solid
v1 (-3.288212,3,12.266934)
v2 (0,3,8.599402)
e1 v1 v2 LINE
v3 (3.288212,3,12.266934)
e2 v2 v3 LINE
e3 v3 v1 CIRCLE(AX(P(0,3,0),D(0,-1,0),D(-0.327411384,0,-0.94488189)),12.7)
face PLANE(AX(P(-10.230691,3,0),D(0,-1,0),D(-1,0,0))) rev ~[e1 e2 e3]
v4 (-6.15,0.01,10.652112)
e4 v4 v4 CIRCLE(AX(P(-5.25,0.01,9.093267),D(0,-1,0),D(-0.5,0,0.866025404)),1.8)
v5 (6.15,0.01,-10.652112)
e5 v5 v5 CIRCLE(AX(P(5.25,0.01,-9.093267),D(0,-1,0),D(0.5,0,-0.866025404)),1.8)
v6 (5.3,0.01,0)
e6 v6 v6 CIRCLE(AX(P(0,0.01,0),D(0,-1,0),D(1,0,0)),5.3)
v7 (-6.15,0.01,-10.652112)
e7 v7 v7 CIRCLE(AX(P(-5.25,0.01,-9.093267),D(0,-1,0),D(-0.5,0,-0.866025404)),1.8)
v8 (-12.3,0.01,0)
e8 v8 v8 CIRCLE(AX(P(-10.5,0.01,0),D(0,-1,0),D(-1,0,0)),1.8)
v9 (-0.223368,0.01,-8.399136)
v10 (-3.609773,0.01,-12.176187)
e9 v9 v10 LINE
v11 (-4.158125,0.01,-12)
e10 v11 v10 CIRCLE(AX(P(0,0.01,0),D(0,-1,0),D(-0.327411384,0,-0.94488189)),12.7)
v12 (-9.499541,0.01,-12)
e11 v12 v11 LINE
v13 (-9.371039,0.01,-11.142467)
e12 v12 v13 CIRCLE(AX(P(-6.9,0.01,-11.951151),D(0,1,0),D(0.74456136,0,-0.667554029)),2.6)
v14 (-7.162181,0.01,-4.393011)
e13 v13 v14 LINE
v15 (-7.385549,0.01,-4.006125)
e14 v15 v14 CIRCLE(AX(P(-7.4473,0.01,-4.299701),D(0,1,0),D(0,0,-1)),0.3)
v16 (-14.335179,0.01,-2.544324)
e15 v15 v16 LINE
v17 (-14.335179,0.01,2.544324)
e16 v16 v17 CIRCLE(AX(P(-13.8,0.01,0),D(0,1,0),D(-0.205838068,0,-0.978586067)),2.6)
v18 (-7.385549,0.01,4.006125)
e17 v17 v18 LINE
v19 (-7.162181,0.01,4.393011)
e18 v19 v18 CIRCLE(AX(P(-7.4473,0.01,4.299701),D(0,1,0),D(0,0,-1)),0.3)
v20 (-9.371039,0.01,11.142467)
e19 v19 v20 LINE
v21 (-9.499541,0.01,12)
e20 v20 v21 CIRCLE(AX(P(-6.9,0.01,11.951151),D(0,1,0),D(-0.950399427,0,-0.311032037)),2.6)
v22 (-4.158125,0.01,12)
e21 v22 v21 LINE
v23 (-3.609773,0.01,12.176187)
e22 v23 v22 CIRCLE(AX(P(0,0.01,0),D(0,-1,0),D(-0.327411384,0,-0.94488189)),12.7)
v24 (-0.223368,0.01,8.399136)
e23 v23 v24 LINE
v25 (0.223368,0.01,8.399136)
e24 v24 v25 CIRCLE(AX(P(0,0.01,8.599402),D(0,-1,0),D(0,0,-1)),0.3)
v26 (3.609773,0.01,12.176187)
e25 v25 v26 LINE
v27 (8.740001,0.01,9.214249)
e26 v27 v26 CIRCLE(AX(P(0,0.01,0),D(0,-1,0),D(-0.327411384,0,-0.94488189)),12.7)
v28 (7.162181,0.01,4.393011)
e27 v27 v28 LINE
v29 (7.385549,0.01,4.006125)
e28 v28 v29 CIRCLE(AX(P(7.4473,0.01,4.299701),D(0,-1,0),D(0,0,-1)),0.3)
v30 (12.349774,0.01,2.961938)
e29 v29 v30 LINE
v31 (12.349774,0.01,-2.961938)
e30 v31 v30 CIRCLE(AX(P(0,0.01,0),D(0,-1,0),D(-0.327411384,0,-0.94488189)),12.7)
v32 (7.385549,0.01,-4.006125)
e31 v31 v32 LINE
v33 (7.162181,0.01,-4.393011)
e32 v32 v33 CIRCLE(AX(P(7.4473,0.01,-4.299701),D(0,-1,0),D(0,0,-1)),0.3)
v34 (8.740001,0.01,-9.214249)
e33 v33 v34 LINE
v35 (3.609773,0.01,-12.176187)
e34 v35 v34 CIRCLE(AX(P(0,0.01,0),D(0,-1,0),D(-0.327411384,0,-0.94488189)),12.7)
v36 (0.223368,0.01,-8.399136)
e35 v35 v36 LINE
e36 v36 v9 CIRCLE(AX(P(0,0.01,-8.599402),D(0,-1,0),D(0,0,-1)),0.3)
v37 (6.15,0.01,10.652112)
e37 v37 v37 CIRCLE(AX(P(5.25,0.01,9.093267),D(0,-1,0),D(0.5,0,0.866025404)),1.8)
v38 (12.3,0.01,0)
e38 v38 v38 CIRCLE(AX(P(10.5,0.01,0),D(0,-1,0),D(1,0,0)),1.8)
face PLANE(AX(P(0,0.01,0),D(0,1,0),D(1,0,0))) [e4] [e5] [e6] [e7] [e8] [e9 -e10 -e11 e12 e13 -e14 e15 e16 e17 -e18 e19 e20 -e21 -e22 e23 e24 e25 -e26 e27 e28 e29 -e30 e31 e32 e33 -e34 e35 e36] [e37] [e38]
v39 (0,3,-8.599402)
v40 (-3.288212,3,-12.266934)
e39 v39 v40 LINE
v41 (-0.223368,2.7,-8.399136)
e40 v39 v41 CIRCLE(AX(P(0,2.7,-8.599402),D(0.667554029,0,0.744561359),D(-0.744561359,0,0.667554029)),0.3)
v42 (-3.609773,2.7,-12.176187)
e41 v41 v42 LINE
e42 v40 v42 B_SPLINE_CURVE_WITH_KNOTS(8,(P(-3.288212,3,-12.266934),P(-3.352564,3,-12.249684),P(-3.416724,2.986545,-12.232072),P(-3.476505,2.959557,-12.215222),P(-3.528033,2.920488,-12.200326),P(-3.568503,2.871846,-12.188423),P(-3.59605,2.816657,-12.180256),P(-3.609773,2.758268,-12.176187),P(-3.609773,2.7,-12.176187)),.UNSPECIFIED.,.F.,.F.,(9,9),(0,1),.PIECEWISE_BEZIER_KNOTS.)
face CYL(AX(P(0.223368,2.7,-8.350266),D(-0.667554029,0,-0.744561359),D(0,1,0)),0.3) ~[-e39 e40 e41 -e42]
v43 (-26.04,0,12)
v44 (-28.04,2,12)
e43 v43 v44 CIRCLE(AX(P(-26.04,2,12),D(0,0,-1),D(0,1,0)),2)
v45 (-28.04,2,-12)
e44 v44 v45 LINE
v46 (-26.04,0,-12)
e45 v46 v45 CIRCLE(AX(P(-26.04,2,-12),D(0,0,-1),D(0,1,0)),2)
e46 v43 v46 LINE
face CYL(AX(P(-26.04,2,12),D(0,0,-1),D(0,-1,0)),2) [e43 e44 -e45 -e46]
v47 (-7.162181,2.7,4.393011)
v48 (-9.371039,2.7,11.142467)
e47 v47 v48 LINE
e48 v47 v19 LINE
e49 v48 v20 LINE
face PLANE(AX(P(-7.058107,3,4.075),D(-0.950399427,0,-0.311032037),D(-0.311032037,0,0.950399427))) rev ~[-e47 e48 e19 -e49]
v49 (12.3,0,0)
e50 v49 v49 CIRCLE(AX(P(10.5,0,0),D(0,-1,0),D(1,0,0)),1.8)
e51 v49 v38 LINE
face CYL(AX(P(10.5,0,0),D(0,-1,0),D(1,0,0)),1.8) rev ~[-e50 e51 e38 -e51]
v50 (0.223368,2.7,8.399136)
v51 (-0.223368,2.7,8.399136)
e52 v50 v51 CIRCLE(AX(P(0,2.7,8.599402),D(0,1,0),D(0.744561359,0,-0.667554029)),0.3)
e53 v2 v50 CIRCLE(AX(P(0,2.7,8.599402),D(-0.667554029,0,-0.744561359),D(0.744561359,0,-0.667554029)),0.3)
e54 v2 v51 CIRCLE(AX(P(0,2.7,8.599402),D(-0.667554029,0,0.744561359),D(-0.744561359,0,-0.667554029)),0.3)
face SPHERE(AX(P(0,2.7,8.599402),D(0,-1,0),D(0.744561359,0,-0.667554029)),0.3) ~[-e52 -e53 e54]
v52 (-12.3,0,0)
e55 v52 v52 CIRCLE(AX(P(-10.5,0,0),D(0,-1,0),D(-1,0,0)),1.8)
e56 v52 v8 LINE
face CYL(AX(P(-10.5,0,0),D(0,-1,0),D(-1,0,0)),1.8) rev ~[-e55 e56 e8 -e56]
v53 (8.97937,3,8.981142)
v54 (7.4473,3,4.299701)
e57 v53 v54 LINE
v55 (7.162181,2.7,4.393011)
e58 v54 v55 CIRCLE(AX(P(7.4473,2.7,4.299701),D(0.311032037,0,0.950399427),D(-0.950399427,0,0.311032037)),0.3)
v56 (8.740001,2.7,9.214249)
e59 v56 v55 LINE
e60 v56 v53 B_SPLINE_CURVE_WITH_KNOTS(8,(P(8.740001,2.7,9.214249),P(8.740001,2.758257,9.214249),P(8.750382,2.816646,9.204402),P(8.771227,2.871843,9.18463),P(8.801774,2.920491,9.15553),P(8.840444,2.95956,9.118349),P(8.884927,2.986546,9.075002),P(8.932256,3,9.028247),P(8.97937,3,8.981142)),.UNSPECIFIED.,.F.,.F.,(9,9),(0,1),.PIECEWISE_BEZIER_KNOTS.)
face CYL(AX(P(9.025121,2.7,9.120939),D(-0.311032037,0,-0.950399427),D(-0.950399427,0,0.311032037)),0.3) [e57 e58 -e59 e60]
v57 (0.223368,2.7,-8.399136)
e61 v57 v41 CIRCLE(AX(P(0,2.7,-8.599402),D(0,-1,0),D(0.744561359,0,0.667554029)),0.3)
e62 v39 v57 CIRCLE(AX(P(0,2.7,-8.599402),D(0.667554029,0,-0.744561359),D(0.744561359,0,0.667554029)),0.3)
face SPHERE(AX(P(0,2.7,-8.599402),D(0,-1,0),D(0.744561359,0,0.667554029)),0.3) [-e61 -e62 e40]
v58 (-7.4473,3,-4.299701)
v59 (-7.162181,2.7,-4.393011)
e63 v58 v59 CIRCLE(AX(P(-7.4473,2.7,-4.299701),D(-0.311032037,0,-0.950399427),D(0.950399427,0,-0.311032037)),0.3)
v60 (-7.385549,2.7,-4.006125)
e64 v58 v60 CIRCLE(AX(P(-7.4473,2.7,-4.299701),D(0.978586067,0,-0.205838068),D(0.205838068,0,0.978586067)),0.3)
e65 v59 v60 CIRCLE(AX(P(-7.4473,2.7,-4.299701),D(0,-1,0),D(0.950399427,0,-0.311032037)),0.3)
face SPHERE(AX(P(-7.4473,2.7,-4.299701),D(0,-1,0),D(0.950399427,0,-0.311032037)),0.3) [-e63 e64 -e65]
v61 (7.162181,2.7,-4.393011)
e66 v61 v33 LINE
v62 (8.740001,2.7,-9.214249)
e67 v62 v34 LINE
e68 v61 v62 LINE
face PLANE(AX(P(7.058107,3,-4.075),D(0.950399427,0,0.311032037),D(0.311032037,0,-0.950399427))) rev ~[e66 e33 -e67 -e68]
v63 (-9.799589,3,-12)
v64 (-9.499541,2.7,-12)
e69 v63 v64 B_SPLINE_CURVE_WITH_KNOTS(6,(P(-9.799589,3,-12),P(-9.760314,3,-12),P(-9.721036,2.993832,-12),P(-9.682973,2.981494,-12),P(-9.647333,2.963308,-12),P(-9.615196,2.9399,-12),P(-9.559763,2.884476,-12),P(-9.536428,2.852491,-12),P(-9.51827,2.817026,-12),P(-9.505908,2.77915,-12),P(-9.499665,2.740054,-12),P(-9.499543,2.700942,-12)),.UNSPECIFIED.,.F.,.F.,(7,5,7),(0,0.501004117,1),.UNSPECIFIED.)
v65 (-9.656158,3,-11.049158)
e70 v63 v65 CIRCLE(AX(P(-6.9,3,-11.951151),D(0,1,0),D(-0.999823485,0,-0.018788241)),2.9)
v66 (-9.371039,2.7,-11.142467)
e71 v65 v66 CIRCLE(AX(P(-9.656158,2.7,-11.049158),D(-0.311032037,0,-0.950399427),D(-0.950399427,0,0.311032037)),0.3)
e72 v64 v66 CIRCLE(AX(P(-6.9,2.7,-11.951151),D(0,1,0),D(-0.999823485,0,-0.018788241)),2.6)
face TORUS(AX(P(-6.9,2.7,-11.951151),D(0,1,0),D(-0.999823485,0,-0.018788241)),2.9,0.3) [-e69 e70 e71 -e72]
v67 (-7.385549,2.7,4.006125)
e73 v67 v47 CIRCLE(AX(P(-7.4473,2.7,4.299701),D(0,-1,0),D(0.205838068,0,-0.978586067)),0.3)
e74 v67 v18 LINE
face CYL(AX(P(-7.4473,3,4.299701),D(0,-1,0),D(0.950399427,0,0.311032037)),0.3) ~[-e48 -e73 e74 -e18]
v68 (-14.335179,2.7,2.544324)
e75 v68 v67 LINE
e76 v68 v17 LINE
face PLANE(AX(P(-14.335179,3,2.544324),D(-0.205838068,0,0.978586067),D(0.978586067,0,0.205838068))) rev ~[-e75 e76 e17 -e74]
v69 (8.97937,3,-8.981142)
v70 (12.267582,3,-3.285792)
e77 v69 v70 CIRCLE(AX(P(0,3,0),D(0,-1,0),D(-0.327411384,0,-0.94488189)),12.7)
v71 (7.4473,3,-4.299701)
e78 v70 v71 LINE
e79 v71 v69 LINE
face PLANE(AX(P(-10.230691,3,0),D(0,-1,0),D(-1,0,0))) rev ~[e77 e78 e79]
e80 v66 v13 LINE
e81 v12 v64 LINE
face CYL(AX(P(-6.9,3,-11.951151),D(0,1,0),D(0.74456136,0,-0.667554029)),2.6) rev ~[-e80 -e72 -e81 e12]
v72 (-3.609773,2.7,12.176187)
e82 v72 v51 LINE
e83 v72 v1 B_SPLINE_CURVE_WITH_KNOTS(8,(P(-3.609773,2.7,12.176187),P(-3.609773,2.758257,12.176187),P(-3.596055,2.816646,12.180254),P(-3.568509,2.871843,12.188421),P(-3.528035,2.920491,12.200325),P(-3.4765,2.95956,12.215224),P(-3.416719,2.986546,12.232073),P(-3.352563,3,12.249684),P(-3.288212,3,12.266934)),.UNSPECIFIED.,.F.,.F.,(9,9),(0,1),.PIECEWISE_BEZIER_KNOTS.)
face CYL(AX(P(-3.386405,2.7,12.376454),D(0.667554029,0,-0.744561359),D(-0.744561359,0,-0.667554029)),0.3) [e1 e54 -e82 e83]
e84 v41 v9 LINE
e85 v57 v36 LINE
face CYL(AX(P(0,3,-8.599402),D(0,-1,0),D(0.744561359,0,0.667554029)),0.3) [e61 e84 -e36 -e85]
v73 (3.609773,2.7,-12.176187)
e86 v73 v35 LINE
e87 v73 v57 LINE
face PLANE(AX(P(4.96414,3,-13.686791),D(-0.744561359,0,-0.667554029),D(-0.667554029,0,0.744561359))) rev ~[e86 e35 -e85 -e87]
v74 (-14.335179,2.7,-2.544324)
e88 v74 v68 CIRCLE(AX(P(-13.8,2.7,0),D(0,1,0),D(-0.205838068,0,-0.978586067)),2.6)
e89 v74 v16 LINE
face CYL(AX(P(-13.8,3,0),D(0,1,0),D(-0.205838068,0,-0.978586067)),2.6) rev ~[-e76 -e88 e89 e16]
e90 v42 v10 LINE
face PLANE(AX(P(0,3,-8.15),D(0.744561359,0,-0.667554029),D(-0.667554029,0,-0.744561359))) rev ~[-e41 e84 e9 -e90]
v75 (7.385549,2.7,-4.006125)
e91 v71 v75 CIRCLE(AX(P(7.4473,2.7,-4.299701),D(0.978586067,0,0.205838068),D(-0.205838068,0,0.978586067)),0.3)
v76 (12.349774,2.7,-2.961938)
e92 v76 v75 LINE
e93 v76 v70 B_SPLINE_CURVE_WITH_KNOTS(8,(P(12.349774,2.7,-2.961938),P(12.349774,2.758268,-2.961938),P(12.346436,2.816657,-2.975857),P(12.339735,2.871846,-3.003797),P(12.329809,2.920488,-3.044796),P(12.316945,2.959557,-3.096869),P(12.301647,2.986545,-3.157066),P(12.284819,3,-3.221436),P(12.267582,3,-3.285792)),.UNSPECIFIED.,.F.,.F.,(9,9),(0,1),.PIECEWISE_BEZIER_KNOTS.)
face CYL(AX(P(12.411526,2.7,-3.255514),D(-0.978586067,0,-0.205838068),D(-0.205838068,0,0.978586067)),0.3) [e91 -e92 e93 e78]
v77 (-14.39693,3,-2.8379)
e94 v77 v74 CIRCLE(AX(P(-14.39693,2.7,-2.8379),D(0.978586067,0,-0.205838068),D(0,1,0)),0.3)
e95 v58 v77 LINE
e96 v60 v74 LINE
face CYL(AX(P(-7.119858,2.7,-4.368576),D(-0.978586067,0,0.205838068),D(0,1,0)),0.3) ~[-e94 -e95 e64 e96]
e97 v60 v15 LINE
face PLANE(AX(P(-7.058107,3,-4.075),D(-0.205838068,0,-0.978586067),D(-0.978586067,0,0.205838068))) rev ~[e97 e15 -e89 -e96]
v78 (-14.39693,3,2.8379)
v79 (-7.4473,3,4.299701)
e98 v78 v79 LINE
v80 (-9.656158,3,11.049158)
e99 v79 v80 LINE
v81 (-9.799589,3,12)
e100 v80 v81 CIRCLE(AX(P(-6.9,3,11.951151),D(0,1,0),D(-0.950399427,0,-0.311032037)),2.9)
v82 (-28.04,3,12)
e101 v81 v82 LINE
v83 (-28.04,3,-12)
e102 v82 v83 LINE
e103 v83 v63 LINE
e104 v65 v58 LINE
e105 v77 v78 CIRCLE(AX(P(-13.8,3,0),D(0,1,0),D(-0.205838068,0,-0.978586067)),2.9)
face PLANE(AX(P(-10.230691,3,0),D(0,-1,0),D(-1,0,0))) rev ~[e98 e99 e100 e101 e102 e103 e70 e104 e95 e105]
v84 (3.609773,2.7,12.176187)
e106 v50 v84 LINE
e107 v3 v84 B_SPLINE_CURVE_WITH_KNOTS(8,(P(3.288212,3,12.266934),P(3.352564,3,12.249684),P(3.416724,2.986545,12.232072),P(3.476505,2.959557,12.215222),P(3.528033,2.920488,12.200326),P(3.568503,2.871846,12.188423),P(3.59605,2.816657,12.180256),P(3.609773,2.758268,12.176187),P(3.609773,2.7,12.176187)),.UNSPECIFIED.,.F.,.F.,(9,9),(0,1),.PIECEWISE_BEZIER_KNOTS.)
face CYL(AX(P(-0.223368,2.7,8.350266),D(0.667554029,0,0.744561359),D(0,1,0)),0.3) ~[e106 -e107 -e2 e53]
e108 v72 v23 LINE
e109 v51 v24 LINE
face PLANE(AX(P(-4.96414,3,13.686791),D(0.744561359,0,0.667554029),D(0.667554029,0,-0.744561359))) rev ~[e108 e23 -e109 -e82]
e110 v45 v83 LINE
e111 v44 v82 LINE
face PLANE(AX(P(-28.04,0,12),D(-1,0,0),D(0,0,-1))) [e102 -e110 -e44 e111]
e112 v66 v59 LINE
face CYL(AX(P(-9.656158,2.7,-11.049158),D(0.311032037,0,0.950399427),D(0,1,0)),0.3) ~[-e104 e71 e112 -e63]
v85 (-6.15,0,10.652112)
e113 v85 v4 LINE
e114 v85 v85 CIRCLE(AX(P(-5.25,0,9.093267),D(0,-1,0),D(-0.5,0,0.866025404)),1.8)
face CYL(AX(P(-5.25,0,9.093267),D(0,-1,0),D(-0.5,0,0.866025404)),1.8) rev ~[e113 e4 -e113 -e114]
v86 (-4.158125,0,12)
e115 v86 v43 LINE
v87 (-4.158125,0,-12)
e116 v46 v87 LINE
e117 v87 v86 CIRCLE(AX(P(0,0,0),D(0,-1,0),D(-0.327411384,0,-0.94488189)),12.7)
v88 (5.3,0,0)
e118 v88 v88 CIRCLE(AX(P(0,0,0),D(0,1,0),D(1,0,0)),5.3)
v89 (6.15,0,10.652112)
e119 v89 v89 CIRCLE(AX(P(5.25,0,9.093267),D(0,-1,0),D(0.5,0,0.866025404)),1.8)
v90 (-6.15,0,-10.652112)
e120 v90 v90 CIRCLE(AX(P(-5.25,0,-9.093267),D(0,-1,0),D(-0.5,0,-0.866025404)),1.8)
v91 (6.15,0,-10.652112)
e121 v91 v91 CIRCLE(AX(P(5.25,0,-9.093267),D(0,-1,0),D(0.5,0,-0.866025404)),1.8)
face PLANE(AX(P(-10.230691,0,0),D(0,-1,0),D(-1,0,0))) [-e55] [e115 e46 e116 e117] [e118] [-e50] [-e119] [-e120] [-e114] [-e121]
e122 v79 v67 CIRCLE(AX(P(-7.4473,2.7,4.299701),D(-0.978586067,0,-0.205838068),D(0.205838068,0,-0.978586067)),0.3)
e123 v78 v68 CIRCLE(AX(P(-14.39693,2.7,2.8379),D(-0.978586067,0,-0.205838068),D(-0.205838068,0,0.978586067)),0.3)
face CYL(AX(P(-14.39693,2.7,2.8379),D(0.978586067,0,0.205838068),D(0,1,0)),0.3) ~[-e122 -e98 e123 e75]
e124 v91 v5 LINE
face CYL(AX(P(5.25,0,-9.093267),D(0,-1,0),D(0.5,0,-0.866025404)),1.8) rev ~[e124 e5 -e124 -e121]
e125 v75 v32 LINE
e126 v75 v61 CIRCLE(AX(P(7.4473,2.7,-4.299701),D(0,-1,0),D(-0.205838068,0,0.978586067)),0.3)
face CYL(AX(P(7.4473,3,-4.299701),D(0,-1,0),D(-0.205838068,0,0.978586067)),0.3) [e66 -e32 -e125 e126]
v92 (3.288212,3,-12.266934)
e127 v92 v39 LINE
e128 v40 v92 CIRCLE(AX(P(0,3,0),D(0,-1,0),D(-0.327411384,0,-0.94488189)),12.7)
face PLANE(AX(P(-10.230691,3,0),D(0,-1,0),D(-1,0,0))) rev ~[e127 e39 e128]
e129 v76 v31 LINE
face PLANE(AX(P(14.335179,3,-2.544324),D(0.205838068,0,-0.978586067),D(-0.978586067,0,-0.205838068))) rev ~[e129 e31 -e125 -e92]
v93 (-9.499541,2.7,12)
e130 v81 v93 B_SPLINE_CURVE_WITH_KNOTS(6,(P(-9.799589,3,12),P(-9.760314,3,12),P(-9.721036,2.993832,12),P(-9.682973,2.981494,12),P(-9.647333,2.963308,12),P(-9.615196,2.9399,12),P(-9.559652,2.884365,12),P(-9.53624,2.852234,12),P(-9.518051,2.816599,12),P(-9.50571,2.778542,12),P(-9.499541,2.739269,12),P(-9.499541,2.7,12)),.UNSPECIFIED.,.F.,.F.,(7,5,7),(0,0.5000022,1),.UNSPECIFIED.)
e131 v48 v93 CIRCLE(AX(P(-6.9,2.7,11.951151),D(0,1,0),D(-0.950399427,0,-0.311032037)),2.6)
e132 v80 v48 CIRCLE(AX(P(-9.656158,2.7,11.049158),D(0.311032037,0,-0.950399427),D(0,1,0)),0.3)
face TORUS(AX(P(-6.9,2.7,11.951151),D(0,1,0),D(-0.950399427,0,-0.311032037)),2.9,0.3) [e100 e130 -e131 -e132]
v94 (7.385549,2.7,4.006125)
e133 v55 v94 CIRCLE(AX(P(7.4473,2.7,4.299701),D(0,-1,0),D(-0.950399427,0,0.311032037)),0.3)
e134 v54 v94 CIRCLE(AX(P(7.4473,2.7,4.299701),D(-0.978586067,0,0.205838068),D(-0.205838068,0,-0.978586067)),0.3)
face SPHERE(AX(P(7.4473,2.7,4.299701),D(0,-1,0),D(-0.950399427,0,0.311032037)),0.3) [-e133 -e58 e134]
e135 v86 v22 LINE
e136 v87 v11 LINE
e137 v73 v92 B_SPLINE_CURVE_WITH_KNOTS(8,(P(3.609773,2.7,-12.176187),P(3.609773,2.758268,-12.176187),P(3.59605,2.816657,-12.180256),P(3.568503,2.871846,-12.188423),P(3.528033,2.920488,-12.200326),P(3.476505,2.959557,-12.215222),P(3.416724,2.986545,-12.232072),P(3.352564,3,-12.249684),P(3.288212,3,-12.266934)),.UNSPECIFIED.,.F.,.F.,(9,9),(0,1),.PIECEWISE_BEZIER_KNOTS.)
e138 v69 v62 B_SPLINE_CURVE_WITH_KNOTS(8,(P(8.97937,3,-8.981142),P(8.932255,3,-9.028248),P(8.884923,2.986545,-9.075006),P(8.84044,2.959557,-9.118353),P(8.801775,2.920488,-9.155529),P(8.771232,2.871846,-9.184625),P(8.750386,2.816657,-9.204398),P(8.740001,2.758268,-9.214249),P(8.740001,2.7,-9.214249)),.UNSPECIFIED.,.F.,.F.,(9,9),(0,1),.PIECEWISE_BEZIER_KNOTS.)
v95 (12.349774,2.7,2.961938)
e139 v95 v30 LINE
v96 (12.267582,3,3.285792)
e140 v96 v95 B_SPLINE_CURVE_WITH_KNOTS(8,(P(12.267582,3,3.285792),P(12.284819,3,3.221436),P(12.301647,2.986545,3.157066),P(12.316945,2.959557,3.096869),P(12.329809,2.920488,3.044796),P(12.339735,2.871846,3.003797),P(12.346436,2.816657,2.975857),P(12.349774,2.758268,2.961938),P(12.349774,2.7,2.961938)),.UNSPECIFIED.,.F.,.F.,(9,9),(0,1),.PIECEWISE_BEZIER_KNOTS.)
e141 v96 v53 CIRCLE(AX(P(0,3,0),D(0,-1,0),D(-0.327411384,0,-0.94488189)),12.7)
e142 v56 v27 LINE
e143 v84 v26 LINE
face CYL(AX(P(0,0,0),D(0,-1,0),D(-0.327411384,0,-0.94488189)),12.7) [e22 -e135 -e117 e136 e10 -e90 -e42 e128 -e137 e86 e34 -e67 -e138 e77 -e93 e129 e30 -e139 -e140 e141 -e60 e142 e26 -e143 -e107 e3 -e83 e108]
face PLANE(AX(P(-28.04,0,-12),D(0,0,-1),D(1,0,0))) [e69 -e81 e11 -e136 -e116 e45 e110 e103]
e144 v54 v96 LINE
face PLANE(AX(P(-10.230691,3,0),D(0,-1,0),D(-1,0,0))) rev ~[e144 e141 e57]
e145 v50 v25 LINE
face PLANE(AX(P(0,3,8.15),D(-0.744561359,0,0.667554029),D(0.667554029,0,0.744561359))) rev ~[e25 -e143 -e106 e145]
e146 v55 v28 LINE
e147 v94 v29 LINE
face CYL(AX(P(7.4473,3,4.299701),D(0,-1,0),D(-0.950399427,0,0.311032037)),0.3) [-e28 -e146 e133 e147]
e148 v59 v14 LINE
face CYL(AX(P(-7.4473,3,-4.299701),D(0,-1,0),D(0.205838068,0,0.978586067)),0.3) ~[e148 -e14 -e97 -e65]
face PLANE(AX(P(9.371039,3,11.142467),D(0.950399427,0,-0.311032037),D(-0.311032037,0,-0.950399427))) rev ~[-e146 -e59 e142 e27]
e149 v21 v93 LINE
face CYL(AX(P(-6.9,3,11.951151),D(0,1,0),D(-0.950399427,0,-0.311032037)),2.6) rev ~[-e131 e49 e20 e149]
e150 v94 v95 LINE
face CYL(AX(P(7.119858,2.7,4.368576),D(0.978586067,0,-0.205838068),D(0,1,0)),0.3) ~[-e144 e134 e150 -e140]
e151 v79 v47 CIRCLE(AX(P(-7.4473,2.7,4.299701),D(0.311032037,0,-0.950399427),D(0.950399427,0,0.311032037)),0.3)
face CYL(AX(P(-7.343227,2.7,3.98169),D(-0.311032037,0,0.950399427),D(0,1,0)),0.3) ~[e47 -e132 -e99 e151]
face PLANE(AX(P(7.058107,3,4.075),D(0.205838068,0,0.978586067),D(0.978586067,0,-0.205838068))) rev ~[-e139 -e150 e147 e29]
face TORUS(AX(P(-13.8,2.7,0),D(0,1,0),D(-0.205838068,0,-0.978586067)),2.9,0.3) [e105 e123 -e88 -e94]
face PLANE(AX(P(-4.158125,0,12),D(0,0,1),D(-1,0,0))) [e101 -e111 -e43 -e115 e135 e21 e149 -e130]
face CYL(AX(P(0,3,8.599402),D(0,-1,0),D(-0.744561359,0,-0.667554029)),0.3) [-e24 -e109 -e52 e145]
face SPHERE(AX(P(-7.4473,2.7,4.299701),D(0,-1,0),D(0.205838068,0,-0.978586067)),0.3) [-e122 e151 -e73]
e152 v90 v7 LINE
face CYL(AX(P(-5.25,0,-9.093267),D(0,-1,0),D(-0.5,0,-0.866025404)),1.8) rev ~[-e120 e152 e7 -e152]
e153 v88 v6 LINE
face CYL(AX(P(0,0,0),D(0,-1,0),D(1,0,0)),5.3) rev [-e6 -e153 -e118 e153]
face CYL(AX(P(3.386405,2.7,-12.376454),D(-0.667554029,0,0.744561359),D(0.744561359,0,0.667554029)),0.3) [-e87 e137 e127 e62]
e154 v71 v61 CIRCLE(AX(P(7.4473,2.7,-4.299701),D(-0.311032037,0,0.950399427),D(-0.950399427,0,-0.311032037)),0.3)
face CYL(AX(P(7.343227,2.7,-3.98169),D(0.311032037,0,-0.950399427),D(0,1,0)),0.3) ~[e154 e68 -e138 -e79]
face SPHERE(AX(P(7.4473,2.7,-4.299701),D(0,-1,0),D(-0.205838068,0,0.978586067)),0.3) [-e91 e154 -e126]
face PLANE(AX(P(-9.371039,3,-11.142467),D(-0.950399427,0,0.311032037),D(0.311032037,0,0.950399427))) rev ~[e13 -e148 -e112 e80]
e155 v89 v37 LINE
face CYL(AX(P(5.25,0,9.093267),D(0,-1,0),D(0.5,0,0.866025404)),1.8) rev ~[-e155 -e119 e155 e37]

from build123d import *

# Parameters (mm, degrees)
CROQUIS1_R              = 5.3
SALIENTE_EXTRUIR1_DEPTH = 3
CORTAR_EXTRUIR2_DEPTH   = 2.99
REDONDEO1_R             = 2
REDONDEO2_R             = 0.3
CROQUIS3_R              = 1.8
CORTAR_EXTRUIR3_DEPTH   = 10
MATRIZC1_COUNT          = 6


with BuildPart() as part:
    # Croquis1 → Saliente-Extruir1 (new body)
    with BuildSketch(Plane(origin=(0, 0, 0), x_dir=(1, 0, 0), z_dir=(0, 1, 0))):
        with BuildLine():
            Line((-28.04, 12), (-4.158124577, 12))
            ThreePointArc((-4.158124577, 12), (12.7, 0), (-4.158124577, -12))
            Line((-4.158124577, -12), (-28.04, -12))
            Line((-28.04, -12), (-28.04, 12))
        make_face()
        Circle(CROQUIS1_R, mode=Mode.SUBTRACT)
    extrude(amount=SALIENTE_EXTRUIR1_DEPTH)

    # Croquis2 → Cortar-Extruir2 (cut)
    with BuildSketch(Plane(origin=(0, 3, 0), x_dir=(1, 0, 0), z_dir=(0, 1, 0))):
        with BuildLine():
            Line((-14.335178977, -2.544323773), (-7.058107041, -4.075))
            Line((-7.058107041, -4.075), (-9.371038511, -11.142467275))
            ThreePointArc((-9.371038511, -11.142467275), (-8.2, -14.202816622), (-4.964140465, -13.686791048))
            Line((-4.964140465, -13.686791048), (0, -8.15))
            Line((0, -8.15), (4.964140465, -13.686791048))
            ThreePointArc((4.964140465, -13.686791048), (8.2, -14.202816622), (9.371038511, -11.142467275))
            Line((9.371038511, -11.142467275), (7.058107041, -4.075))
            Line((7.058107041, -4.075), (14.335178977, -2.544323773))
            ThreePointArc((14.335178977, -2.544323773), (16.4, 0), (14.335178977, 2.544323773))
            Line((14.335178977, 2.544323773), (7.058107041, 4.075))
            Line((7.058107041, 4.075), (9.371038511, 11.142467275))
            ThreePointArc((9.371038511, 11.142467275), (8.2, 14.202816622), (4.964140465, 13.686791048))
            Line((4.964140465, 13.686791048), (0, 8.15))
            Line((0, 8.15), (-4.964140465, 13.686791048))
            ThreePointArc((-4.964140465, 13.686791048), (-8.2, 14.202816622), (-9.371038511, 11.142467275))
            Line((-9.371038511, 11.142467275), (-7.058107041, 4.075))
            Line((-7.058107041, 4.075), (-14.335178977, 2.544323773))
            ThreePointArc((-14.335178977, 2.544323773), (-16.4, 0), (-14.335178977, -2.544323773))
        make_face()
    extrude(amount=-CORTAR_EXTRUIR2_DEPTH, mode=Mode.SUBTRACT)

    # Redondeo1
    redondeo1_edges = [part.edges().sort_by_distance(p)[0] for p in [
        (-28.04, 0, 0),
    ]]
    fillet(redondeo1_edges, radius=REDONDEO1_R)

    # Redondeo2
    redondeo2_edges = [part.edges().sort_by_distance(p)[0] for p in [
        (0, 1.505, -8.15),
        (7.058107041, 1.505, -4.075),
        (7.058107041, 1.505, 4.075),
        (0, 1.505, 8.15),
        (1.804886558, 3, 10.163093668),
        (7.899054019, 3, 6.644624444),
        (9.703940577, 3, 3.518469224),
        (9.703940577, 3, -3.518469224),
        (7.899054019, 3, -6.644624444),
        (1.804886558, 3, -10.163093668),
        (-1.804886558, 3, -10.163093668),
        (-9.471290512, 3, -11.565838876),
        (-8.214572776, 3, -7.608733638),
        (-10.696643009, 3, -3.309661887),
        (-16.4, 3, 0),
        (-10.696643009, 3, 3.309661887),
        (-8.214572776, 3, 7.608733638),
        (-9.471290512, 3, 11.565838876),
        (-1.804886558, 3, 10.163093668),
        (-7.058107041, 1.505, -4.075),
        (-7.058107041, 1.505, 4.075),
    ]]
    fillet(redondeo2_edges, radius=REDONDEO2_R)

    # Croquis3 → Cortar-Extruir3 (cut)
    with BuildSketch(Plane.XZ):
        with Locations((10.5, 0)):
            Circle(CROQUIS3_R)
    cortar_extruir3 = extrude(amount=-CORTAR_EXTRUIR3_DEPTH, mode=Mode.SUBTRACT)

    # MatrizC1: Cortar-Extruir3 ×6 about axis
    matrizc1_axis = Axis((0, 0, 0), (0, 1, 0))
    for i in range(1, MATRIZC1_COUNT):
        add(cortar_extruir3.rotate(matrizc1_axis, i * 360 / MATRIZC1_COUNT), mode=Mode.SUBTRACT)


solid = part.part
